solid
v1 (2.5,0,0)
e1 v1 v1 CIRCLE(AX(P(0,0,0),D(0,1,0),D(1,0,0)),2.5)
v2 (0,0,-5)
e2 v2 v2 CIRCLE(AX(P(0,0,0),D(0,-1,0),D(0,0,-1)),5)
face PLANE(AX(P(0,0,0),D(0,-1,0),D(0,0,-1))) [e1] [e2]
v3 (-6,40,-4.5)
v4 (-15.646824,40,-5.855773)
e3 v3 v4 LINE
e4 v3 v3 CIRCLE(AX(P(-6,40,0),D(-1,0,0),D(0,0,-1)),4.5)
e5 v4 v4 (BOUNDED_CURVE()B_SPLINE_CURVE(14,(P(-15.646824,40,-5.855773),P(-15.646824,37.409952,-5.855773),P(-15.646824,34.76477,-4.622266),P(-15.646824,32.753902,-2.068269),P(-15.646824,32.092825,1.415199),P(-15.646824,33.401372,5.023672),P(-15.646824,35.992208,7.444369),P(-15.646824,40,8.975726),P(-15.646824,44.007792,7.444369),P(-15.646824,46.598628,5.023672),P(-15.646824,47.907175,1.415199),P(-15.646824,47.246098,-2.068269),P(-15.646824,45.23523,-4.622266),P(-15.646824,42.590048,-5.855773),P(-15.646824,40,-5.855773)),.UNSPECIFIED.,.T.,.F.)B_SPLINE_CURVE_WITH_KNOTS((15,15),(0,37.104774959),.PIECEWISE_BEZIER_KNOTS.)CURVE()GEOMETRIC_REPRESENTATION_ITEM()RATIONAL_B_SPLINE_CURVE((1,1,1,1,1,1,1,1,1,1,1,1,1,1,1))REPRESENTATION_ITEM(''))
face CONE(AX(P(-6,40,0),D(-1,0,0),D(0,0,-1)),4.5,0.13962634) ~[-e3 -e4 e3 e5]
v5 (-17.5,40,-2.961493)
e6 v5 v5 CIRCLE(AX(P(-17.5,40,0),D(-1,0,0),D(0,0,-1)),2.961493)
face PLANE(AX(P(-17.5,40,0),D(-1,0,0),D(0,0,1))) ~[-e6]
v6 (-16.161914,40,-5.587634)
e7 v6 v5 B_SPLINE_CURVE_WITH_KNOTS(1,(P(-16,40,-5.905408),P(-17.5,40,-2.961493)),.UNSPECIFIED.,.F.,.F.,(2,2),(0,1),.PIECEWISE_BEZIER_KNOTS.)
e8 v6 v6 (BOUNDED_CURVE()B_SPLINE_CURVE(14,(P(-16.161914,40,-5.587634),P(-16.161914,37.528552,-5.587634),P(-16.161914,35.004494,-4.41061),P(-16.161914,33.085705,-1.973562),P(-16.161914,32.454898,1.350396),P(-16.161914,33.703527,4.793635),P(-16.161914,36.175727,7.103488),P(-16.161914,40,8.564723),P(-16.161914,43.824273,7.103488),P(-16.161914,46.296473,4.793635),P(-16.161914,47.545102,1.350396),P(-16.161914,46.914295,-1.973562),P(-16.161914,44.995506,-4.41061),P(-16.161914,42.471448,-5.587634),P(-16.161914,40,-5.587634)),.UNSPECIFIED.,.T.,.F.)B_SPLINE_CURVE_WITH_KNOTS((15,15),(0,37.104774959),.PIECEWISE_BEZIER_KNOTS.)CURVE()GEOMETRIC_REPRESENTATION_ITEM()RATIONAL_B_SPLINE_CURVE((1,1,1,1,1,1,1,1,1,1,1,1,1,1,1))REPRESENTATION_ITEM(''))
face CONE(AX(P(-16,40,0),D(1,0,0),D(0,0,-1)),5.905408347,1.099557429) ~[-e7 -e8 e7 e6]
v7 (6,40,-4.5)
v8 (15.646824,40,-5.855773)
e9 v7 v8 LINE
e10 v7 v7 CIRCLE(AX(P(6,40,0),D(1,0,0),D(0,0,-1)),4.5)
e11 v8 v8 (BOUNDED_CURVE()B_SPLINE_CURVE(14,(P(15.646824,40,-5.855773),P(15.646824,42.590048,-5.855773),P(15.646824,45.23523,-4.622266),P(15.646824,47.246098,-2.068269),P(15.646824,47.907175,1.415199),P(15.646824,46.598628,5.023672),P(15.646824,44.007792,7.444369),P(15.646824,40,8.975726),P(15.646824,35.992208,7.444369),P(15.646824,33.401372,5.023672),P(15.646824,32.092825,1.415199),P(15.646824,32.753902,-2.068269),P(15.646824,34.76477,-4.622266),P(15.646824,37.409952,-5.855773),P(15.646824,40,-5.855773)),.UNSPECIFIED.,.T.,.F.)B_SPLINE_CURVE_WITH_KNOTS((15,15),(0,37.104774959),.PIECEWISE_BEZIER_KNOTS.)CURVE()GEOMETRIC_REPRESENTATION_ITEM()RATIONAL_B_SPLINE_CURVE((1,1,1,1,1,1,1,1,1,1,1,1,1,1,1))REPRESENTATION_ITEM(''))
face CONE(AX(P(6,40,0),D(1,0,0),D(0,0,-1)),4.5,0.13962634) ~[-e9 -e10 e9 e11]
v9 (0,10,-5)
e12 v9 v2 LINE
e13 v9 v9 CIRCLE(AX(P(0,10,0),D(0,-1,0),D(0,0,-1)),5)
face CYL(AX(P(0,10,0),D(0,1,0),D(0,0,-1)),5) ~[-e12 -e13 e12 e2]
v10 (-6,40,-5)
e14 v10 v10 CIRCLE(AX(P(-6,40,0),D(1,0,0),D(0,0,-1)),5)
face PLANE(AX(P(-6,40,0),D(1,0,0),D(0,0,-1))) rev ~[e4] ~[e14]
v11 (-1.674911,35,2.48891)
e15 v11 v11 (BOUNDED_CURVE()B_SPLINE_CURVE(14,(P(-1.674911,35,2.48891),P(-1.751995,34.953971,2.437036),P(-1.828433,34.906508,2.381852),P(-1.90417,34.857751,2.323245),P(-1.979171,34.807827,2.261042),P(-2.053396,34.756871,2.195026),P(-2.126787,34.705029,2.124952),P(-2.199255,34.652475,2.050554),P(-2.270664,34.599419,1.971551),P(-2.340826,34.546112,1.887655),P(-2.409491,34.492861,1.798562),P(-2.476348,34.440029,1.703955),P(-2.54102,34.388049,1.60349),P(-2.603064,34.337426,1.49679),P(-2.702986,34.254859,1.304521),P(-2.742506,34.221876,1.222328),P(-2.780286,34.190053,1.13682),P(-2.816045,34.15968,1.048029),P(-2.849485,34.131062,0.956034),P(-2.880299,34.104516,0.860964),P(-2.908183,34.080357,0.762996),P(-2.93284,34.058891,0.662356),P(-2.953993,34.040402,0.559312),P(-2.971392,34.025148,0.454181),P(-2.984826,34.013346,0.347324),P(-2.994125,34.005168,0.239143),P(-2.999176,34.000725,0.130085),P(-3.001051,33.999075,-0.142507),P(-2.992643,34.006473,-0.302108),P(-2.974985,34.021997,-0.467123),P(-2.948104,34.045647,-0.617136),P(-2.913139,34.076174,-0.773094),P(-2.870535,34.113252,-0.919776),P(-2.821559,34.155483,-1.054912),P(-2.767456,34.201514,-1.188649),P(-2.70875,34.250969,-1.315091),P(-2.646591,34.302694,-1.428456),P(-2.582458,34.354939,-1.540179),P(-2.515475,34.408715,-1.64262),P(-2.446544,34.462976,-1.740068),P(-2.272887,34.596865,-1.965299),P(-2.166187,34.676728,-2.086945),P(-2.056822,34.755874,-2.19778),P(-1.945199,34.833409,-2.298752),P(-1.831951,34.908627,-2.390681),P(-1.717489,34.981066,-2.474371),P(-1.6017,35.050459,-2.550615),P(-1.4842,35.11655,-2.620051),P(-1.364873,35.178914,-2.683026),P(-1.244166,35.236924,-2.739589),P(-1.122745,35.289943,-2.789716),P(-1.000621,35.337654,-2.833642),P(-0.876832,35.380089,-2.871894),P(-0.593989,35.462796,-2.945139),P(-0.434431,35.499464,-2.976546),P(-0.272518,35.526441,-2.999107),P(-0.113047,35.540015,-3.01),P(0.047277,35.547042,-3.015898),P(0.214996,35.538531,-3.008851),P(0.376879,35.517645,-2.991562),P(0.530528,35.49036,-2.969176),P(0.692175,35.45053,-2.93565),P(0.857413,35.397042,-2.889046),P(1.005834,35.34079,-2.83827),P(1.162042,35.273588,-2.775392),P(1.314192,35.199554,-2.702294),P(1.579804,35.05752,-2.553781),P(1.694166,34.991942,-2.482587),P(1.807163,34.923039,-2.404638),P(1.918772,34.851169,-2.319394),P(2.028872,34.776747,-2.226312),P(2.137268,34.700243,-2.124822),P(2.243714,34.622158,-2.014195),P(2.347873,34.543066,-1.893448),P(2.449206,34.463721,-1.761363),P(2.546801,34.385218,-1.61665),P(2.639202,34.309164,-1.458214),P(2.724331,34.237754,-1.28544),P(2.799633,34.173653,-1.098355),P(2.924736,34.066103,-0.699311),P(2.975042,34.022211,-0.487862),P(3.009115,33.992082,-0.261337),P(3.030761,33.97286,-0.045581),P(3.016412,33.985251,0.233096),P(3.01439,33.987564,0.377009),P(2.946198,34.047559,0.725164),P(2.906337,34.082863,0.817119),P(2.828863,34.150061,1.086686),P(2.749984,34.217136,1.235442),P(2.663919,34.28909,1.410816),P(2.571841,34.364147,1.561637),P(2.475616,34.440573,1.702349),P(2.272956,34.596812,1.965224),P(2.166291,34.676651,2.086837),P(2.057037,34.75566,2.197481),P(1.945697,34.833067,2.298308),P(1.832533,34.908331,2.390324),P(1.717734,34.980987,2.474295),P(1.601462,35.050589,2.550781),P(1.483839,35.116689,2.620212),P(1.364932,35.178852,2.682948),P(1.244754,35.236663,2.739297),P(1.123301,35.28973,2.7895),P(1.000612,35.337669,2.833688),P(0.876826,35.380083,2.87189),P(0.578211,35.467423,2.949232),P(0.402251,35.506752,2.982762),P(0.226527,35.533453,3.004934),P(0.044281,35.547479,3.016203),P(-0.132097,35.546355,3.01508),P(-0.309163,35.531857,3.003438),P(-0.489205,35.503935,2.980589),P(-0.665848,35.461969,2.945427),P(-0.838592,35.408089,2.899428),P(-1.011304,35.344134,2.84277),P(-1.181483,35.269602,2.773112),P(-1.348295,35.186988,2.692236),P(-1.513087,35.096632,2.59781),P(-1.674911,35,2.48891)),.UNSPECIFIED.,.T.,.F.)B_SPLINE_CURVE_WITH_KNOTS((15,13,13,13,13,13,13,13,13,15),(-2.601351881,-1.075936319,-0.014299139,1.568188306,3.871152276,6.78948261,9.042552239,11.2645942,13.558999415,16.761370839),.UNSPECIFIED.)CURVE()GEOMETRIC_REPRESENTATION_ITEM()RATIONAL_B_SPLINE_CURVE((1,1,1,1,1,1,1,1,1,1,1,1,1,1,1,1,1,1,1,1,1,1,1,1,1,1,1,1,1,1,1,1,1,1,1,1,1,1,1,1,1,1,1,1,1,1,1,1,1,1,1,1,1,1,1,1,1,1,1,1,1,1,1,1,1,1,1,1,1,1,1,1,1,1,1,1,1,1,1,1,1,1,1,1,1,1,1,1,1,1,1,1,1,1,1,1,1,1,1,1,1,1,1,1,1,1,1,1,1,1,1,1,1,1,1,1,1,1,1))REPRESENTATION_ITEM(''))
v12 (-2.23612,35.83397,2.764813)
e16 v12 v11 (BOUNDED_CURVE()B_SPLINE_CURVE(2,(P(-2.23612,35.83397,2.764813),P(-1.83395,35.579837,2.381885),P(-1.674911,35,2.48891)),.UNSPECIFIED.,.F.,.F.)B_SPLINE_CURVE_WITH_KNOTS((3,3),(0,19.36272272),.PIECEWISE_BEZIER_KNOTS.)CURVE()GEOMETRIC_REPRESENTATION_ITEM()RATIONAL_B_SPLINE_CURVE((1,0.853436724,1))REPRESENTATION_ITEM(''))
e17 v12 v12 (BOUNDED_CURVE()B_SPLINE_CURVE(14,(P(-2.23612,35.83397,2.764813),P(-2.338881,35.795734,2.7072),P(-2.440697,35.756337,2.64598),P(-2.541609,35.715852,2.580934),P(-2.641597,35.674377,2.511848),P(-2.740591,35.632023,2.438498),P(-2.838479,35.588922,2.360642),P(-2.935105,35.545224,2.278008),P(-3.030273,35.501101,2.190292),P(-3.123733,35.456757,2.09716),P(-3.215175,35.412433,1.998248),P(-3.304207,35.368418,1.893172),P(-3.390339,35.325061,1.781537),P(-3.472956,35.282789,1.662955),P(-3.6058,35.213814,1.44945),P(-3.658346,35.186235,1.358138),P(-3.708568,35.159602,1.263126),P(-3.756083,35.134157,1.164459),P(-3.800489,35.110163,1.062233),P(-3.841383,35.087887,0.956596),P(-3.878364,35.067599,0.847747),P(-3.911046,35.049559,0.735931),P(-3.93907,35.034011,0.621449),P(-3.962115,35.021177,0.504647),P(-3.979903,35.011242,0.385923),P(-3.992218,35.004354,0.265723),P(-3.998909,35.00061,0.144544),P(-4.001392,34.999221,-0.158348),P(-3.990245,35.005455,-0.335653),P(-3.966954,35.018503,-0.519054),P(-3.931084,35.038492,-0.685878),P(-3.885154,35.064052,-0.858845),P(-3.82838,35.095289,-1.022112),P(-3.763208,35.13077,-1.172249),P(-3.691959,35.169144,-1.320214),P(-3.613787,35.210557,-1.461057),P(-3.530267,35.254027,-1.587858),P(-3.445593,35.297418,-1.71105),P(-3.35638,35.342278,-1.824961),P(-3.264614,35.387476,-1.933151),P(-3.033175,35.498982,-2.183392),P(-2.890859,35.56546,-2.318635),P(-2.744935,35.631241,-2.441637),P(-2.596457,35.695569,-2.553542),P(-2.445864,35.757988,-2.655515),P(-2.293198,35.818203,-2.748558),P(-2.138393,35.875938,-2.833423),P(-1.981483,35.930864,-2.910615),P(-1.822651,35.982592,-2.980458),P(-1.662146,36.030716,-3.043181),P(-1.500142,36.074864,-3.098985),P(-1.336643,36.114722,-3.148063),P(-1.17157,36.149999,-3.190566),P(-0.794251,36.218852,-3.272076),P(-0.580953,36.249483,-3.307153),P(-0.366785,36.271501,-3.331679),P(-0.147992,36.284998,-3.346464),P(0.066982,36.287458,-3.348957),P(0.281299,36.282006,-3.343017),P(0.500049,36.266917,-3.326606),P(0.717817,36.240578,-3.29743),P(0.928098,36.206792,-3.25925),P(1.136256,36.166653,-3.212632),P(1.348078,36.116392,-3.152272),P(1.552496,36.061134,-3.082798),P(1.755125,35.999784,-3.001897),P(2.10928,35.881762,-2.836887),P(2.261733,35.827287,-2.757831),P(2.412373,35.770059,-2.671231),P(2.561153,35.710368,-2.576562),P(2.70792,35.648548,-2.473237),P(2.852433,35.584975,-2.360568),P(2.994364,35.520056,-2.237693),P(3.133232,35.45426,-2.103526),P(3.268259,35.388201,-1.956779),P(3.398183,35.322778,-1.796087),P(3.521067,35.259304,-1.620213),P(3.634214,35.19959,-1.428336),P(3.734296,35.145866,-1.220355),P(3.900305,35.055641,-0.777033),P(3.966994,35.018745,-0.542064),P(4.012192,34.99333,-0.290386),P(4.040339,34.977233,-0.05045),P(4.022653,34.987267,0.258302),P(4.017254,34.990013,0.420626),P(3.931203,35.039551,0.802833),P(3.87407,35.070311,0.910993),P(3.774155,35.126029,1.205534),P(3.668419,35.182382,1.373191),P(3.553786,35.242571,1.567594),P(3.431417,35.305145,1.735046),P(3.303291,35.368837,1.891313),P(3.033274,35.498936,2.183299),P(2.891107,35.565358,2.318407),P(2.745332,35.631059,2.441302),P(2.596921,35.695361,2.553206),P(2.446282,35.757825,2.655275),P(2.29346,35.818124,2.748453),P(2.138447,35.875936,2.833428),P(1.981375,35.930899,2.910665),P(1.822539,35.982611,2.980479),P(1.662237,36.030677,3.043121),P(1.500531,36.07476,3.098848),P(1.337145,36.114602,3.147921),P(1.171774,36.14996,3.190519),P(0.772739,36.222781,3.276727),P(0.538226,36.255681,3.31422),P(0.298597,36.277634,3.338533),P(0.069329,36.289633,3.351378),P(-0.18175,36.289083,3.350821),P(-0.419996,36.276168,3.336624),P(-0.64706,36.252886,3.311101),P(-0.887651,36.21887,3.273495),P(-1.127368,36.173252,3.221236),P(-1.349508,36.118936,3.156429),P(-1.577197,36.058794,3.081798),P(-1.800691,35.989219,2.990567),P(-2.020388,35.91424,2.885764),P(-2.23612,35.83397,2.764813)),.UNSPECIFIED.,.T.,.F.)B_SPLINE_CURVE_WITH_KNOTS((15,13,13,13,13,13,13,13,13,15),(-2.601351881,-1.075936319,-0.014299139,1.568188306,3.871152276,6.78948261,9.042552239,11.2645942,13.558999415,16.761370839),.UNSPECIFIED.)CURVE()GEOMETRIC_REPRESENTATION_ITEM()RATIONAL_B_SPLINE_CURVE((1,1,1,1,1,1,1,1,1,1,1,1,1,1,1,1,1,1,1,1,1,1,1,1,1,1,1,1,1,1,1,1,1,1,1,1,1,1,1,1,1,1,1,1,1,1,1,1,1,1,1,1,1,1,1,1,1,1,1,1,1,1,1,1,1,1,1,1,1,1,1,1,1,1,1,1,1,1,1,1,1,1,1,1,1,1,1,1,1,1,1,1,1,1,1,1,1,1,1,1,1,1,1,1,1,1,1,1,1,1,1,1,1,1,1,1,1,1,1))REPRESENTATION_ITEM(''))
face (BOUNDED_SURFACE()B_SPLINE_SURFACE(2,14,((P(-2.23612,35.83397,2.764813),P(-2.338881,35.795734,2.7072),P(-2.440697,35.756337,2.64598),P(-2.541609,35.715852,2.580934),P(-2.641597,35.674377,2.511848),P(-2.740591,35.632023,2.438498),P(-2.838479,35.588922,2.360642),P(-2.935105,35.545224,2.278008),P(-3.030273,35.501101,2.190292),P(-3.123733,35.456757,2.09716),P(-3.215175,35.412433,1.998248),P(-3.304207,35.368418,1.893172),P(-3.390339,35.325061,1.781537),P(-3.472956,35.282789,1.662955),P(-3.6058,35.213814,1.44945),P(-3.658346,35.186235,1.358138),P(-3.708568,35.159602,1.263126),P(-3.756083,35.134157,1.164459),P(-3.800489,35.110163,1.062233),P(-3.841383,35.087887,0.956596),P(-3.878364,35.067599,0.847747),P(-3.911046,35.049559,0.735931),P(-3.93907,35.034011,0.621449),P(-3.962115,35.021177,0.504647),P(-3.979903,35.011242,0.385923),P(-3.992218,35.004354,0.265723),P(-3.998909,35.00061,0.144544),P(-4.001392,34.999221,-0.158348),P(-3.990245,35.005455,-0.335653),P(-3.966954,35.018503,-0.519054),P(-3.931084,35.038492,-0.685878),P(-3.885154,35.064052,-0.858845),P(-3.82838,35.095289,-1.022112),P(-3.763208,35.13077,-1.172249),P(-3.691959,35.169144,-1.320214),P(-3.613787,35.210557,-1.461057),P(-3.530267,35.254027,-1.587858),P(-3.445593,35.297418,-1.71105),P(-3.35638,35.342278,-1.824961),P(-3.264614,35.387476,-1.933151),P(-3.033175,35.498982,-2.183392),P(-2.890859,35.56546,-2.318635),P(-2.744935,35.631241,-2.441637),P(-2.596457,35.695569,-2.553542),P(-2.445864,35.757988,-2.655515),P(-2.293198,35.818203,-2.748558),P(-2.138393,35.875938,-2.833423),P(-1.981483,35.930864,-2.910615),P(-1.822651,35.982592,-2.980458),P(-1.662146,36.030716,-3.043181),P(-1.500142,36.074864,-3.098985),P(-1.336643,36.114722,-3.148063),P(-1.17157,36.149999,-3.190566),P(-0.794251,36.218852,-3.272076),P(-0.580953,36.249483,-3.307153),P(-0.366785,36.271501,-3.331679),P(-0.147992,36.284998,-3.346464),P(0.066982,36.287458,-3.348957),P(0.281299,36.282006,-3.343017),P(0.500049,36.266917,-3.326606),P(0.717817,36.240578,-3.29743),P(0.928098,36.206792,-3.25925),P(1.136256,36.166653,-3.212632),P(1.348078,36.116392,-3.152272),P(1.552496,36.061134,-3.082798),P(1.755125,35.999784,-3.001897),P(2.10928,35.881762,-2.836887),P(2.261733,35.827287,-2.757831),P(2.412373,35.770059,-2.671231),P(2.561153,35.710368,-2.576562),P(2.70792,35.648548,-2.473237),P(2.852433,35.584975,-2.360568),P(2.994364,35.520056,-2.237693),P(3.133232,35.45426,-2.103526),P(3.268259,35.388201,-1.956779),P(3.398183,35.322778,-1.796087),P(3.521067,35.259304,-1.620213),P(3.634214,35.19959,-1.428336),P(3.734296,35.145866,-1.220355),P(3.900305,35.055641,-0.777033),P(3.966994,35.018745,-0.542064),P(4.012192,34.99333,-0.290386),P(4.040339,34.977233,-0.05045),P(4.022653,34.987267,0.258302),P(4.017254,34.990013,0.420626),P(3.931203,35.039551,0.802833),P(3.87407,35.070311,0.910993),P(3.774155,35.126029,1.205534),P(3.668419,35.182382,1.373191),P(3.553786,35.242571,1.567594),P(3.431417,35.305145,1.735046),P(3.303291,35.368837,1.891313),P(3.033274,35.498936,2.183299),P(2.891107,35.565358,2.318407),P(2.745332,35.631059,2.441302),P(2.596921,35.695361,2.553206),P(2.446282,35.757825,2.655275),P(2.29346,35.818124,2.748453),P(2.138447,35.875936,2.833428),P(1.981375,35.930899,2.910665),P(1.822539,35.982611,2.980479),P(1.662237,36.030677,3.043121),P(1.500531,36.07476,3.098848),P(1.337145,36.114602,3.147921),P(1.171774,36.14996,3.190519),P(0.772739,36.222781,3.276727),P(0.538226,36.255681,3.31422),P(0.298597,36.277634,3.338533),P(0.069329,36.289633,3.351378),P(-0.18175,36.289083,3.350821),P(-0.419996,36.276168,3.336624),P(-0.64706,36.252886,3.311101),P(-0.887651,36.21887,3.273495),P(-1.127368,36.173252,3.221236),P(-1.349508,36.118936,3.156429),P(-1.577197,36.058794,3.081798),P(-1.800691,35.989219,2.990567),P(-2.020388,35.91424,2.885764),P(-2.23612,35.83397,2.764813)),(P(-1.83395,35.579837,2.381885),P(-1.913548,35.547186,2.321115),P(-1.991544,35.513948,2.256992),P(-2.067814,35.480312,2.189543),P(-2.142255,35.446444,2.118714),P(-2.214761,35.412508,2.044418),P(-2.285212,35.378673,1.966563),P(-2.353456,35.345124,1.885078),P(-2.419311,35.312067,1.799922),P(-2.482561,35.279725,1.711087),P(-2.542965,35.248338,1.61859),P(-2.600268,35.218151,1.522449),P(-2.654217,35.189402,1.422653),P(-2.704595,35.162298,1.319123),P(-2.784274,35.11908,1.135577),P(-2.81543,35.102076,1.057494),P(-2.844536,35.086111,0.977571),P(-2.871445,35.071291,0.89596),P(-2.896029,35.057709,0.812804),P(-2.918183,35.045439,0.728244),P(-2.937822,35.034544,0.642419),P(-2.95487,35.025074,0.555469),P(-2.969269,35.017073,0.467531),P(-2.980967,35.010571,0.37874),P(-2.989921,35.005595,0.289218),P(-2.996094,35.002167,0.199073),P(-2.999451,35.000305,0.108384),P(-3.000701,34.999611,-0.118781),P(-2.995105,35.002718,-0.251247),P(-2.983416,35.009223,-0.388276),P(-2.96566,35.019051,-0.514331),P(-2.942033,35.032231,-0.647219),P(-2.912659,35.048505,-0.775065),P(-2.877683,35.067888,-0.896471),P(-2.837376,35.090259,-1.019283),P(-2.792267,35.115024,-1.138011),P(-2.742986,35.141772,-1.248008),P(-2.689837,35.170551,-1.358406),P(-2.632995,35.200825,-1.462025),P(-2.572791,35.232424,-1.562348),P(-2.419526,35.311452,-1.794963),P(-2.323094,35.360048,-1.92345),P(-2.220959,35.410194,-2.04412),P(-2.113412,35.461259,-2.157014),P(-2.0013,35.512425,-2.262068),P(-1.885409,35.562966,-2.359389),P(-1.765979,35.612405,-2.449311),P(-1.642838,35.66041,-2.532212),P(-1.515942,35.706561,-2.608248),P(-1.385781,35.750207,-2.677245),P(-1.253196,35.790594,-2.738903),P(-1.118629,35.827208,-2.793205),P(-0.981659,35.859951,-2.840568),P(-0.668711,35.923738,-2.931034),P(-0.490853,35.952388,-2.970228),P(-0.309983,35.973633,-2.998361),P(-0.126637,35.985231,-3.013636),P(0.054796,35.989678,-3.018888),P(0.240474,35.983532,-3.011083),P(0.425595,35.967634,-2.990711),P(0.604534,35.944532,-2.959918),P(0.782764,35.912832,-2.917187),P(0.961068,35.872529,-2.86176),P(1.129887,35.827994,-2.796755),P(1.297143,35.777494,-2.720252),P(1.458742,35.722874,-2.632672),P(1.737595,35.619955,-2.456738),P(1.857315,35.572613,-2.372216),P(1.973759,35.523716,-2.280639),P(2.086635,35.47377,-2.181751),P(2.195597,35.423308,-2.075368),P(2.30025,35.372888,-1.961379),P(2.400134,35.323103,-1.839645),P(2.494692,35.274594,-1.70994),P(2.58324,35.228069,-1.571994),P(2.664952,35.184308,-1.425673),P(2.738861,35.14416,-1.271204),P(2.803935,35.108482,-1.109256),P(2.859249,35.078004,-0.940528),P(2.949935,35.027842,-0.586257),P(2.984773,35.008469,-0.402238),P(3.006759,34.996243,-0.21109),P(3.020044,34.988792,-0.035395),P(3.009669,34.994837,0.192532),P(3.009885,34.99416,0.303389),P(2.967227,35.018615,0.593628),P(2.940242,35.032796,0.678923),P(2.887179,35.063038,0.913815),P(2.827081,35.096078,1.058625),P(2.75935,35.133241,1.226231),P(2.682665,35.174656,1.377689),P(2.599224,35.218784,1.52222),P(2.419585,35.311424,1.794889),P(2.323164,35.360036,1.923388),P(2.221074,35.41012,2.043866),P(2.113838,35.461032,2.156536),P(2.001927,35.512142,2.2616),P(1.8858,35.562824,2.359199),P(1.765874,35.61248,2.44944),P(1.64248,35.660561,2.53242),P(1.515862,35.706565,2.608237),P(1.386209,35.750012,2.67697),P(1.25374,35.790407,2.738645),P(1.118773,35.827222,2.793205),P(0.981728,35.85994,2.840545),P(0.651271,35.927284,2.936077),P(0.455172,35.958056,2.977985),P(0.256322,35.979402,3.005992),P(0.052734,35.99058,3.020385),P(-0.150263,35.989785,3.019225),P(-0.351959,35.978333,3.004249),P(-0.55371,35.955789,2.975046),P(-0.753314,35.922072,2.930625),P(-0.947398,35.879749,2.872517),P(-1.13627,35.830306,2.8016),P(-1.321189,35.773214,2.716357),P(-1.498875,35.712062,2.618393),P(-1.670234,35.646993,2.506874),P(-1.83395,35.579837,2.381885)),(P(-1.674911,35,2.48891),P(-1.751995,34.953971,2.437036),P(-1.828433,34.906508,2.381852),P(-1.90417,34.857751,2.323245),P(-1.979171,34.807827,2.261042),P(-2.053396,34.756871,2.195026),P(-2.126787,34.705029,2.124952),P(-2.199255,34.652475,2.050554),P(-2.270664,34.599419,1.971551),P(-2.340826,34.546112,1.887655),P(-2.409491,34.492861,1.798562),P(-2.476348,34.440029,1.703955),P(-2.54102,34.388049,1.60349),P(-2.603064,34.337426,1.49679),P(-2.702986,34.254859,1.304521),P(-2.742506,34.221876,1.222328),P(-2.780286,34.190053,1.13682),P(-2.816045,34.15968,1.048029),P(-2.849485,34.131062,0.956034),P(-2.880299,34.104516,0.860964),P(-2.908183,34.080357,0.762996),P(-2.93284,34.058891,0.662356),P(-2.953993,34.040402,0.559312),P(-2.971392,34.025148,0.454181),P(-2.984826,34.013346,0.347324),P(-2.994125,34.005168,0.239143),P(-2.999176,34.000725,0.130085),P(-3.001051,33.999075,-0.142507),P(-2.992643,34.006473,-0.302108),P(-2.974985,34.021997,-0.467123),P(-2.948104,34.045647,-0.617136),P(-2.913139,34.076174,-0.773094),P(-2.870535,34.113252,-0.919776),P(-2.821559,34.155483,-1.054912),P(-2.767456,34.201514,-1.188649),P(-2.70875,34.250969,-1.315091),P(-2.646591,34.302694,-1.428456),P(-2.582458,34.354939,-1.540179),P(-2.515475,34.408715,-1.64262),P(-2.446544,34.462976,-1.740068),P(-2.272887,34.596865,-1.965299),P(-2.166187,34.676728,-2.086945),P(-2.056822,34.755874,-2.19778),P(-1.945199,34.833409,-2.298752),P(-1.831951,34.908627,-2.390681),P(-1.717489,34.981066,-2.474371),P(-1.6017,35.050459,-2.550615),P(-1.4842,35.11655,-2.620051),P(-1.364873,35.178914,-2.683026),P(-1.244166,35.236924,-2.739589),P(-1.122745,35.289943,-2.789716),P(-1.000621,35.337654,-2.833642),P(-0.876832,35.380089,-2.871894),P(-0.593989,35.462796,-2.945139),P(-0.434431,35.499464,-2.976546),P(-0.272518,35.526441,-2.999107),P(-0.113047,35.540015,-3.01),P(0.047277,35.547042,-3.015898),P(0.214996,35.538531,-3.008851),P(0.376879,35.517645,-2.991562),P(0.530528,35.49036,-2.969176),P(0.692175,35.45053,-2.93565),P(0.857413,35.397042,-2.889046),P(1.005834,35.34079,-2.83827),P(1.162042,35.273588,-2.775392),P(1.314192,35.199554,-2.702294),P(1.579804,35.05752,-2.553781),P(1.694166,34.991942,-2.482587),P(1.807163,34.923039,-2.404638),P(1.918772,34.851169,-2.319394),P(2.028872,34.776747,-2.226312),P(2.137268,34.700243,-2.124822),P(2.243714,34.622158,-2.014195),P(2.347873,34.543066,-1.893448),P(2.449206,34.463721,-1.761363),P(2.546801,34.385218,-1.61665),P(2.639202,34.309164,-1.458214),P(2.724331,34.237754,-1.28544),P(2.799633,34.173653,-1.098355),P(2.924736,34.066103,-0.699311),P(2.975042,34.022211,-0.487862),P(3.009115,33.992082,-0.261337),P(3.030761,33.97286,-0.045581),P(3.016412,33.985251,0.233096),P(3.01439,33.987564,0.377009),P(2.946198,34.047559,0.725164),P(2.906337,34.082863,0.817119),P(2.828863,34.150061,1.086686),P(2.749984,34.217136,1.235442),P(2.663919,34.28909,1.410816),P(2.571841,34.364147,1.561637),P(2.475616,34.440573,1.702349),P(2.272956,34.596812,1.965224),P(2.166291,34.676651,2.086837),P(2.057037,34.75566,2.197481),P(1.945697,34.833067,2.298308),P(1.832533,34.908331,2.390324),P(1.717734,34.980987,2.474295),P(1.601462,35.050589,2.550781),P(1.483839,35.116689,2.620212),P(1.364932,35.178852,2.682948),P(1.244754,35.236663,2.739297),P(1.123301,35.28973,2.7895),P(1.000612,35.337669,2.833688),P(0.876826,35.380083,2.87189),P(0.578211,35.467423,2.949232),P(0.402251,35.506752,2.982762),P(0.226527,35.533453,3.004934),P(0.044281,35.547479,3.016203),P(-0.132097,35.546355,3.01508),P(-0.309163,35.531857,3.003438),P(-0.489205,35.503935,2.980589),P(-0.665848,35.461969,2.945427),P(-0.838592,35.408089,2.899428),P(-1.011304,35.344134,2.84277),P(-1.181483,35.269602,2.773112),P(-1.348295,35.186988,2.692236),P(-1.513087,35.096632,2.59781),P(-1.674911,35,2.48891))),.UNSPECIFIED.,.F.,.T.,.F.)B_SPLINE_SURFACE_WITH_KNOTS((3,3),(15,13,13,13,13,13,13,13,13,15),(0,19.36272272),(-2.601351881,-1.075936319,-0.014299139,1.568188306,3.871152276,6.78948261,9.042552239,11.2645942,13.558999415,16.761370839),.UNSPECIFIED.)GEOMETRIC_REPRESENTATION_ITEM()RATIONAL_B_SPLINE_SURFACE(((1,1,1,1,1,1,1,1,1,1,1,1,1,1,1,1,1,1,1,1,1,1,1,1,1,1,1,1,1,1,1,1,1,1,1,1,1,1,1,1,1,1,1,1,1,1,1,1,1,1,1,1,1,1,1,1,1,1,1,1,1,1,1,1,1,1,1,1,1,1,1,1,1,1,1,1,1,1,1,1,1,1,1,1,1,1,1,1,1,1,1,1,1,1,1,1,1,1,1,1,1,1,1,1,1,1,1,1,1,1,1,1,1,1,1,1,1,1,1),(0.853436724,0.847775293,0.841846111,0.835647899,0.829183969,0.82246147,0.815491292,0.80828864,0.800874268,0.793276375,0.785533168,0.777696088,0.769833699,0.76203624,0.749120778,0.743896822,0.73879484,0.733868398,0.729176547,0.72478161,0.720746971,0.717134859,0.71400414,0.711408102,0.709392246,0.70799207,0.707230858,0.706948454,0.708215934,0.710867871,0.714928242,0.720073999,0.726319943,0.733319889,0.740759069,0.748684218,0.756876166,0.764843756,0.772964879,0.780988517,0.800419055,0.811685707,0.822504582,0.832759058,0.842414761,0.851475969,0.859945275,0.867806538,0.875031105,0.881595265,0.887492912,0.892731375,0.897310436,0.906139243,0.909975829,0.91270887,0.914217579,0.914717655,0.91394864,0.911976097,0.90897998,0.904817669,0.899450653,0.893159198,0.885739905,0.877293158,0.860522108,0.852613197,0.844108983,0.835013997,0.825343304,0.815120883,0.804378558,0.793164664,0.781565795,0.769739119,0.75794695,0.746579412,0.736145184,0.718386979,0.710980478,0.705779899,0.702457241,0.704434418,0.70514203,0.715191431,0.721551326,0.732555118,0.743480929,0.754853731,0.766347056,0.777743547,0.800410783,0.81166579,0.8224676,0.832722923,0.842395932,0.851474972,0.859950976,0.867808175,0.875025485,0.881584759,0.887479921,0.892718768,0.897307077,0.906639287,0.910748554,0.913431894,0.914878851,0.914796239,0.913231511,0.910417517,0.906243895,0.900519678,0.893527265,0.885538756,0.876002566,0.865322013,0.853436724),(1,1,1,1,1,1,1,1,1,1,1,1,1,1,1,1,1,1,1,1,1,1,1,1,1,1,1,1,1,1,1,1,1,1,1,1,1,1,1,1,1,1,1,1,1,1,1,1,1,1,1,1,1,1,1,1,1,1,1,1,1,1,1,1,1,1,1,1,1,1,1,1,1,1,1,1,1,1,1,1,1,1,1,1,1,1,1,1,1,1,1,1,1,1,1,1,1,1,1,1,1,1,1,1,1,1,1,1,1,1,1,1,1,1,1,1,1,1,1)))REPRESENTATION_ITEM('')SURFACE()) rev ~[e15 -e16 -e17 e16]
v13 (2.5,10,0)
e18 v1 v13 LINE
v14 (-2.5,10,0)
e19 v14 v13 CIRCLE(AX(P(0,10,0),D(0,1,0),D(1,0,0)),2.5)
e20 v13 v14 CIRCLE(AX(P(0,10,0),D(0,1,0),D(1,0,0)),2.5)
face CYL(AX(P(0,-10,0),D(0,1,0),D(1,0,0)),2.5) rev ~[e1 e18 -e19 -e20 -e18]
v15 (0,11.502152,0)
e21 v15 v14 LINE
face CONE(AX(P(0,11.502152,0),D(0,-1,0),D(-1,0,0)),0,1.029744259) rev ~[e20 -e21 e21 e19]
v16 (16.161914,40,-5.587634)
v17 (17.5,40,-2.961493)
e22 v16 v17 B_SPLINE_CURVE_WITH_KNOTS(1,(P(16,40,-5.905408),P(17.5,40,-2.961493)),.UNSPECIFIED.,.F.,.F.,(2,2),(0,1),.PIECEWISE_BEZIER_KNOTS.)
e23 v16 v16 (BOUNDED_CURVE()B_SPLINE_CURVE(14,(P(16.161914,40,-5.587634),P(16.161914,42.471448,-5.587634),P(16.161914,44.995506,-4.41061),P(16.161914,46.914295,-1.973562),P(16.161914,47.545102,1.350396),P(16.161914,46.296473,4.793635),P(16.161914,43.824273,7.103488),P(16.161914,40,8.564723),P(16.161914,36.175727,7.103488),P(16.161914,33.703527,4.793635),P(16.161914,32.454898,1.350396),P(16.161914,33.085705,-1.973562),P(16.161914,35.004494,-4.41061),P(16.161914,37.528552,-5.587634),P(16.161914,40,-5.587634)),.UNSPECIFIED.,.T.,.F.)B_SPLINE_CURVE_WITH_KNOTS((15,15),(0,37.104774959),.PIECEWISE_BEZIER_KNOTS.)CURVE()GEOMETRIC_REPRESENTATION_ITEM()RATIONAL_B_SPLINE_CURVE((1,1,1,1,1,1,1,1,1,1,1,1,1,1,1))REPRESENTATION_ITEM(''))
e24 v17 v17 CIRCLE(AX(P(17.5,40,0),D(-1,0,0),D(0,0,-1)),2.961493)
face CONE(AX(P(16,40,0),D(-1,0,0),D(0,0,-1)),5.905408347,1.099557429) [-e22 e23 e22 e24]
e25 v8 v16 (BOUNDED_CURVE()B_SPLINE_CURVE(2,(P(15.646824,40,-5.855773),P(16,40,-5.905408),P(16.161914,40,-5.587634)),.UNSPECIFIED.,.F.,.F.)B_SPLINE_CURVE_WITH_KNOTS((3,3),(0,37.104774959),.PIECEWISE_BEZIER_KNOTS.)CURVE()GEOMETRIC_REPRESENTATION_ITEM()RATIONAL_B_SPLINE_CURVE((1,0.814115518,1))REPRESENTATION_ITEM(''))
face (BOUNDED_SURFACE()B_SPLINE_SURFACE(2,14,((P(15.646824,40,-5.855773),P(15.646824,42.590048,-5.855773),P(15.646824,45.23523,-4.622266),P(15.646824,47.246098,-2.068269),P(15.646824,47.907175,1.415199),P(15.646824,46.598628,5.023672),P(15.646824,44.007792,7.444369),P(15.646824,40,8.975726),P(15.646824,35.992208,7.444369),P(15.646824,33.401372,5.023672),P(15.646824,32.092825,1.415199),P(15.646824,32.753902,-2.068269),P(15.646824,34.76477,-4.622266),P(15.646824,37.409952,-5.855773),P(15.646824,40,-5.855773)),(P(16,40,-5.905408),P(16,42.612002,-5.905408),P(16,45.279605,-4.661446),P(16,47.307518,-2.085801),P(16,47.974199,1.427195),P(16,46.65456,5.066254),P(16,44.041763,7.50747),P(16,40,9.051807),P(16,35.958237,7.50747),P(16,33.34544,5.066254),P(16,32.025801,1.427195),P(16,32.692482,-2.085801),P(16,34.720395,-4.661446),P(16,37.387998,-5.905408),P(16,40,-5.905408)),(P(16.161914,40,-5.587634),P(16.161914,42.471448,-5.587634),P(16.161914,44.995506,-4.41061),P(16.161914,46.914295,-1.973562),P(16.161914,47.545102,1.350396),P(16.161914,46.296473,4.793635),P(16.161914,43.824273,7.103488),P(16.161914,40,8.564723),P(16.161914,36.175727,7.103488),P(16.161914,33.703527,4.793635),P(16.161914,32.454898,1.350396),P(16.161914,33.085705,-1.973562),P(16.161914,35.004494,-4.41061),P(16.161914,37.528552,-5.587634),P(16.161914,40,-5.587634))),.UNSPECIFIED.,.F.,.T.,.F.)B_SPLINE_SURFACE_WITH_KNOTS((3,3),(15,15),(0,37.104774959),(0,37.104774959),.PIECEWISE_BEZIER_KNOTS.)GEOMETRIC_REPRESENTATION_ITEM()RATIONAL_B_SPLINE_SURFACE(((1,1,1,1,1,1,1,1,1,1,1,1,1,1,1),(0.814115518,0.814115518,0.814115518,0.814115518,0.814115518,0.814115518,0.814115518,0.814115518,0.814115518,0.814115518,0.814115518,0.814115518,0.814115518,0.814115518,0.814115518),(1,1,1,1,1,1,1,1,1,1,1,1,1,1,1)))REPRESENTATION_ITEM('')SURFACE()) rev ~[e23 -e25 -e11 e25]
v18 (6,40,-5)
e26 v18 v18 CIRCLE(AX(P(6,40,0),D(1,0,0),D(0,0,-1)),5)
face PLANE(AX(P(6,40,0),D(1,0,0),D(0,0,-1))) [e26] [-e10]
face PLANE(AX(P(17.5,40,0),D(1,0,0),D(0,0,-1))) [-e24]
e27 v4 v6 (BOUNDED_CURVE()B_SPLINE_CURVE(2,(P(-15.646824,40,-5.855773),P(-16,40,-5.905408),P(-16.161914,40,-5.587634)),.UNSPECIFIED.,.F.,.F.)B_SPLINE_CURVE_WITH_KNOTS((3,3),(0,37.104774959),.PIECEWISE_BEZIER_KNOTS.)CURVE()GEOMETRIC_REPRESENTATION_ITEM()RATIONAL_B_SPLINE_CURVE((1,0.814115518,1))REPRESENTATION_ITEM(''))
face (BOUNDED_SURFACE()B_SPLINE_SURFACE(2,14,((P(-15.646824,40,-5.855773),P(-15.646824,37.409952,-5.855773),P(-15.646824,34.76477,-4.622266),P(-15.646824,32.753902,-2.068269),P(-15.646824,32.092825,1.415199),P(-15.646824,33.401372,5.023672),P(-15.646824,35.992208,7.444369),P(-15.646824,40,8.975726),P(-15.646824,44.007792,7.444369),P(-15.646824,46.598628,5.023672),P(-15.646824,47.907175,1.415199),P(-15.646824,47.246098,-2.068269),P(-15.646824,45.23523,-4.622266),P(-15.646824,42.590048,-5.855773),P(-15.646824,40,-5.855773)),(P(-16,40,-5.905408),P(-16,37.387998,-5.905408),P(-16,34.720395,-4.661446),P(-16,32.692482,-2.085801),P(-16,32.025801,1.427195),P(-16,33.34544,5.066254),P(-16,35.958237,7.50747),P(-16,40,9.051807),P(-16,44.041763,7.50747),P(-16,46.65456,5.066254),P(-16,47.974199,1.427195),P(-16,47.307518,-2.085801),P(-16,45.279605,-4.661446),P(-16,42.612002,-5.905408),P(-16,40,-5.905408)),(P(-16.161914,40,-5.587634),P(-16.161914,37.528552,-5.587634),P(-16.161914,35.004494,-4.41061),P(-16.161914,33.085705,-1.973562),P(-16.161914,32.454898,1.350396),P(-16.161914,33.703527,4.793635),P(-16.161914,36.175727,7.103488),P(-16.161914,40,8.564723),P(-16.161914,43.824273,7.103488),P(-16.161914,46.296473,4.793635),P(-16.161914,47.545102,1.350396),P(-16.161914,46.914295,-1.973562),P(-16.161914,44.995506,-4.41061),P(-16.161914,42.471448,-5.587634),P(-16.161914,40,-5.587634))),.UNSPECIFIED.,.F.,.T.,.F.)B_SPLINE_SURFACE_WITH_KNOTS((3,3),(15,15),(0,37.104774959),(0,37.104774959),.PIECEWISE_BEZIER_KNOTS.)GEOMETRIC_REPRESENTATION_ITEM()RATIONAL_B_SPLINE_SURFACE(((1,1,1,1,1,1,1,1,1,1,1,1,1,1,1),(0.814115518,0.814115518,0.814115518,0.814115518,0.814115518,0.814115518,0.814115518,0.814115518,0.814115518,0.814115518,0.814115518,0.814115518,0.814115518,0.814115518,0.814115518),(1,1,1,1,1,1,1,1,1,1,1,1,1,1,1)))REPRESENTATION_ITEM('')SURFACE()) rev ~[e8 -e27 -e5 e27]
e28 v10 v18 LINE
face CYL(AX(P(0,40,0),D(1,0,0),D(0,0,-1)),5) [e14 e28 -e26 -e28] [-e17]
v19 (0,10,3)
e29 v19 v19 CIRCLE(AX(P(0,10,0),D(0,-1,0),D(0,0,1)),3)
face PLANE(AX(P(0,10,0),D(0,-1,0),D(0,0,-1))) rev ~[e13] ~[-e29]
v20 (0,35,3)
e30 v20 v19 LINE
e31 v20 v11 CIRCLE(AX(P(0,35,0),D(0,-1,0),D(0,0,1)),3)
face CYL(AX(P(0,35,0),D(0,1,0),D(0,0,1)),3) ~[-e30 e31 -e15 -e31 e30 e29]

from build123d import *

# Parameters (mm, degrees)
SKETCH3_R                            = 5
BOSS_EXTRUDE1_DEPTH                  = 6
SKETCH4_R                            = 4.5
BOSS_EXTRUDE2_DEPTH                  = 10
BOSS_EXTRUDE2_DRAFT                  = -8
MIRROR1_COPY_1_SKETCH_R              = 4.5
MIRROR1_COPY_1_DEPTH                 = 10
MIRROR1_COPY_1_DRAFT                 = -8
SKETCH5_R                            = 3
BOSS_EXTRUDE3_DEPTH                  = 25
BOSS_EXTRUDE3_DIRECTION_2_REACH      = 22.244
BOSS_EXTRUDE3_DIRECTION_2_END_RADIUS = 5
SKETCH6_R                            = 5
BOSS_EXTRUDE4_DEPTH                  = 10
F_5_0MM_DOWEL_HOLE1_D                = 5
F_5_0MM_DOWEL_HOLE1_DEPTH            = 10
F_5_0MM_DOWEL_HOLE1_TIP              = 1.502151548
SKETCH9_R                            = 5.905408347
BOSS_EXTRUDE5_DEPTH                  = 1.5
BOSS_EXTRUDE5_TAPER                  = 63
FILLET1_R                            = 1
FILLET2_R                            = 0.5


with BuildPart() as part:
    # Sketch3 → Boss-Extrude1 (new, symmetric)
    with BuildSketch(Plane(origin=(0, 0, 0), x_dir=(0, 0, -1), z_dir=(1, 0, 0))):
        with Locations((0, 40)):
            Circle(SKETCH3_R)
    extrude(amount=BOSS_EXTRUDE1_DEPTH, both=True)


with BuildPart() as boss_extrude2_tool:
    # Sketch4 → Boss-Extrude2 (with draft: the straight prism first)
    with BuildSketch(Plane(origin=(6, 0, 0), x_dir=(0, 0, -1), z_dir=(1, 0, 0))):
        with Locations((0, 40)):
            Circle(SKETCH4_R)
    extrude(amount=BOSS_EXTRUDE2_DEPTH)
    # Boss-Extrude2: the draft: its side faces are tilted about the plane it starts from
    boss_extrude2_sides = [boss_extrude2_tool.faces().sort_by_distance(p)[0] for p in [
        (11, 40, 4.5),
    ]]
    draft(boss_extrude2_sides, Plane(origin=(6, 0, 0), x_dir=(0, 0, -1), z_dir=(1, 0, 0)), BOSS_EXTRUDE2_DRAFT)


with BuildPart() as part_1:
    add(part.part)

    # Boss-Extrude2: add boss_extrude2_tool
    add(boss_extrude2_tool.part)


with BuildPart() as mirror1_copy_1_tool:
    # Mirror1 copy 1 sketch → Mirror1 copy 1 (with draft: the straight prism first)
    with BuildSketch(Plane(origin=(-6, 0, 0), x_dir=(0, 0, -1), z_dir=(-1, 0, 0))):
        with Locations((0, -40)):
            Circle(MIRROR1_COPY_1_SKETCH_R)
    extrude(amount=MIRROR1_COPY_1_DEPTH)
    # Mirror1 copy 1: the draft: its side faces are tilted about the plane it starts from
    mirror1_copy_1_sides = [mirror1_copy_1_tool.faces().sort_by_distance(p)[0] for p in [
        (-11, 40, 4.5),
    ]]
    draft(mirror1_copy_1_sides, Plane(origin=(-6, 0, 0), x_dir=(0, 0, -1), z_dir=(-1, 0, 0)), MIRROR1_COPY_1_DRAFT)


with BuildPart() as part_2:
    add(part_1.part)

    # Mirror1 copy 1: add mirror1_copy_1_tool
    add(mirror1_copy_1_tool.part)

    # Sketch5 → Boss-Extrude3 (add)
    with BuildSketch(Plane(origin=(0, 35, 0), x_dir=(-1, 0, 0), z_dir=(0, -1, 0))):
        with Locations(Location((0, 0, 0), (0, 0, 270))):
            Circle(SKETCH5_R)
    extrude(amount=BOSS_EXTRUDE3_DEPTH)

    # Boss-Extrude3 direction 2: up to this cylinder (the profile starts outside it)
    boss_extrude3_direction_2_end = Plane(origin=(0, 40, 0), z_dir=(-1, 0, 0)) * Cylinder(BOSS_EXTRUDE3_DIRECTION_2_END_RADIUS, 55.488, mode=Mode.PRIVATE)
    # Sketch5 → Boss-Extrude3 direction 2 (add, up to the surface)
    with BuildSketch(Plane(origin=(0, 35, 0), x_dir=(-1, 0, 0), z_dir=(0, -1, 0)), mode=Mode.PRIVATE) as boss_extrude3_direction_2_sk1:
        with Locations(Location((0, 0, 0), (0, 0, 270))):
            Circle(SKETCH5_R)
    boss_extrude3_direction_2_tool1 = extrude(boss_extrude3_direction_2_sk1.sketch, amount=-BOSS_EXTRUDE3_DIRECTION_2_REACH, mode=Mode.PRIVATE) - boss_extrude3_direction_2_end
    add(boss_extrude3_direction_2_tool1.solids().sort_by_distance((0, 35, 0))[0])
    add(boss_extrude3_direction_2_tool1.solids().sort_by_distance((0, 35, 0))[1])

    # Sketch6 → Boss-Extrude4 (add)
    with BuildSketch(Plane.XZ.offset(-10)):
        with Locations(Location((0, 0, 0), (0, 0, 270))):
            Circle(SKETCH6_R)
    extrude(amount=BOSS_EXTRUDE4_DEPTH)

    # Ø5.0mm Dowel Hole1
    with Locations(Plane(origin=(0, 0, 0), x_dir=(-1, 0, 0), z_dir=(0, -1, 0))):
        with Locations((0, 0)):
            Hole(F_5_0MM_DOWEL_HOLE1_D / 2, depth=F_5_0MM_DOWEL_HOLE1_DEPTH)
            with Locations((0, 0, -(F_5_0MM_DOWEL_HOLE1_DEPTH + F_5_0MM_DOWEL_HOLE1_TIP / 2))):  # 118° drill point
                Cone(0, F_5_0MM_DOWEL_HOLE1_D / 2, F_5_0MM_DOWEL_HOLE1_TIP, mode=Mode.SUBTRACT)

    # Sketch9 → Boss-Extrude5 (add)
    with BuildSketch(Plane(origin=(16, 0, 0), x_dir=(0, 0, -1), z_dir=(1, 0, 0))):
        with Locations((0, 40)):
            Circle(SKETCH9_R)
    boss_extrude5 = extrude(amount=BOSS_EXTRUDE5_DEPTH, taper=BOSS_EXTRUDE5_TAPER)

    # Mirror2: Boss-Extrude5 across plane
    add(boss_extrude5.mirror(Plane(origin=(0, 0, 0), x_dir=(0, 0, 1), z_dir=(1, 0, 0))))

    # Fillet1
    fillet1_edges = [part_2.edges().sort_by_distance(p)[0] for p in [
        (3.000000007, 34.999999994, -1e-09),
    ]]
    fillet(fillet1_edges, radius=FILLET1_R)

    # Fillet2
    fillet2_edges = [part_2.edges().sort_by_distance(p)[0] for p in [
        (-16, 40, 5.905408347),
        (16, 40, 5.905408347),
    ]]
    fillet(fillet2_edges, radius=FILLET2_R)


solid = part_2.part
